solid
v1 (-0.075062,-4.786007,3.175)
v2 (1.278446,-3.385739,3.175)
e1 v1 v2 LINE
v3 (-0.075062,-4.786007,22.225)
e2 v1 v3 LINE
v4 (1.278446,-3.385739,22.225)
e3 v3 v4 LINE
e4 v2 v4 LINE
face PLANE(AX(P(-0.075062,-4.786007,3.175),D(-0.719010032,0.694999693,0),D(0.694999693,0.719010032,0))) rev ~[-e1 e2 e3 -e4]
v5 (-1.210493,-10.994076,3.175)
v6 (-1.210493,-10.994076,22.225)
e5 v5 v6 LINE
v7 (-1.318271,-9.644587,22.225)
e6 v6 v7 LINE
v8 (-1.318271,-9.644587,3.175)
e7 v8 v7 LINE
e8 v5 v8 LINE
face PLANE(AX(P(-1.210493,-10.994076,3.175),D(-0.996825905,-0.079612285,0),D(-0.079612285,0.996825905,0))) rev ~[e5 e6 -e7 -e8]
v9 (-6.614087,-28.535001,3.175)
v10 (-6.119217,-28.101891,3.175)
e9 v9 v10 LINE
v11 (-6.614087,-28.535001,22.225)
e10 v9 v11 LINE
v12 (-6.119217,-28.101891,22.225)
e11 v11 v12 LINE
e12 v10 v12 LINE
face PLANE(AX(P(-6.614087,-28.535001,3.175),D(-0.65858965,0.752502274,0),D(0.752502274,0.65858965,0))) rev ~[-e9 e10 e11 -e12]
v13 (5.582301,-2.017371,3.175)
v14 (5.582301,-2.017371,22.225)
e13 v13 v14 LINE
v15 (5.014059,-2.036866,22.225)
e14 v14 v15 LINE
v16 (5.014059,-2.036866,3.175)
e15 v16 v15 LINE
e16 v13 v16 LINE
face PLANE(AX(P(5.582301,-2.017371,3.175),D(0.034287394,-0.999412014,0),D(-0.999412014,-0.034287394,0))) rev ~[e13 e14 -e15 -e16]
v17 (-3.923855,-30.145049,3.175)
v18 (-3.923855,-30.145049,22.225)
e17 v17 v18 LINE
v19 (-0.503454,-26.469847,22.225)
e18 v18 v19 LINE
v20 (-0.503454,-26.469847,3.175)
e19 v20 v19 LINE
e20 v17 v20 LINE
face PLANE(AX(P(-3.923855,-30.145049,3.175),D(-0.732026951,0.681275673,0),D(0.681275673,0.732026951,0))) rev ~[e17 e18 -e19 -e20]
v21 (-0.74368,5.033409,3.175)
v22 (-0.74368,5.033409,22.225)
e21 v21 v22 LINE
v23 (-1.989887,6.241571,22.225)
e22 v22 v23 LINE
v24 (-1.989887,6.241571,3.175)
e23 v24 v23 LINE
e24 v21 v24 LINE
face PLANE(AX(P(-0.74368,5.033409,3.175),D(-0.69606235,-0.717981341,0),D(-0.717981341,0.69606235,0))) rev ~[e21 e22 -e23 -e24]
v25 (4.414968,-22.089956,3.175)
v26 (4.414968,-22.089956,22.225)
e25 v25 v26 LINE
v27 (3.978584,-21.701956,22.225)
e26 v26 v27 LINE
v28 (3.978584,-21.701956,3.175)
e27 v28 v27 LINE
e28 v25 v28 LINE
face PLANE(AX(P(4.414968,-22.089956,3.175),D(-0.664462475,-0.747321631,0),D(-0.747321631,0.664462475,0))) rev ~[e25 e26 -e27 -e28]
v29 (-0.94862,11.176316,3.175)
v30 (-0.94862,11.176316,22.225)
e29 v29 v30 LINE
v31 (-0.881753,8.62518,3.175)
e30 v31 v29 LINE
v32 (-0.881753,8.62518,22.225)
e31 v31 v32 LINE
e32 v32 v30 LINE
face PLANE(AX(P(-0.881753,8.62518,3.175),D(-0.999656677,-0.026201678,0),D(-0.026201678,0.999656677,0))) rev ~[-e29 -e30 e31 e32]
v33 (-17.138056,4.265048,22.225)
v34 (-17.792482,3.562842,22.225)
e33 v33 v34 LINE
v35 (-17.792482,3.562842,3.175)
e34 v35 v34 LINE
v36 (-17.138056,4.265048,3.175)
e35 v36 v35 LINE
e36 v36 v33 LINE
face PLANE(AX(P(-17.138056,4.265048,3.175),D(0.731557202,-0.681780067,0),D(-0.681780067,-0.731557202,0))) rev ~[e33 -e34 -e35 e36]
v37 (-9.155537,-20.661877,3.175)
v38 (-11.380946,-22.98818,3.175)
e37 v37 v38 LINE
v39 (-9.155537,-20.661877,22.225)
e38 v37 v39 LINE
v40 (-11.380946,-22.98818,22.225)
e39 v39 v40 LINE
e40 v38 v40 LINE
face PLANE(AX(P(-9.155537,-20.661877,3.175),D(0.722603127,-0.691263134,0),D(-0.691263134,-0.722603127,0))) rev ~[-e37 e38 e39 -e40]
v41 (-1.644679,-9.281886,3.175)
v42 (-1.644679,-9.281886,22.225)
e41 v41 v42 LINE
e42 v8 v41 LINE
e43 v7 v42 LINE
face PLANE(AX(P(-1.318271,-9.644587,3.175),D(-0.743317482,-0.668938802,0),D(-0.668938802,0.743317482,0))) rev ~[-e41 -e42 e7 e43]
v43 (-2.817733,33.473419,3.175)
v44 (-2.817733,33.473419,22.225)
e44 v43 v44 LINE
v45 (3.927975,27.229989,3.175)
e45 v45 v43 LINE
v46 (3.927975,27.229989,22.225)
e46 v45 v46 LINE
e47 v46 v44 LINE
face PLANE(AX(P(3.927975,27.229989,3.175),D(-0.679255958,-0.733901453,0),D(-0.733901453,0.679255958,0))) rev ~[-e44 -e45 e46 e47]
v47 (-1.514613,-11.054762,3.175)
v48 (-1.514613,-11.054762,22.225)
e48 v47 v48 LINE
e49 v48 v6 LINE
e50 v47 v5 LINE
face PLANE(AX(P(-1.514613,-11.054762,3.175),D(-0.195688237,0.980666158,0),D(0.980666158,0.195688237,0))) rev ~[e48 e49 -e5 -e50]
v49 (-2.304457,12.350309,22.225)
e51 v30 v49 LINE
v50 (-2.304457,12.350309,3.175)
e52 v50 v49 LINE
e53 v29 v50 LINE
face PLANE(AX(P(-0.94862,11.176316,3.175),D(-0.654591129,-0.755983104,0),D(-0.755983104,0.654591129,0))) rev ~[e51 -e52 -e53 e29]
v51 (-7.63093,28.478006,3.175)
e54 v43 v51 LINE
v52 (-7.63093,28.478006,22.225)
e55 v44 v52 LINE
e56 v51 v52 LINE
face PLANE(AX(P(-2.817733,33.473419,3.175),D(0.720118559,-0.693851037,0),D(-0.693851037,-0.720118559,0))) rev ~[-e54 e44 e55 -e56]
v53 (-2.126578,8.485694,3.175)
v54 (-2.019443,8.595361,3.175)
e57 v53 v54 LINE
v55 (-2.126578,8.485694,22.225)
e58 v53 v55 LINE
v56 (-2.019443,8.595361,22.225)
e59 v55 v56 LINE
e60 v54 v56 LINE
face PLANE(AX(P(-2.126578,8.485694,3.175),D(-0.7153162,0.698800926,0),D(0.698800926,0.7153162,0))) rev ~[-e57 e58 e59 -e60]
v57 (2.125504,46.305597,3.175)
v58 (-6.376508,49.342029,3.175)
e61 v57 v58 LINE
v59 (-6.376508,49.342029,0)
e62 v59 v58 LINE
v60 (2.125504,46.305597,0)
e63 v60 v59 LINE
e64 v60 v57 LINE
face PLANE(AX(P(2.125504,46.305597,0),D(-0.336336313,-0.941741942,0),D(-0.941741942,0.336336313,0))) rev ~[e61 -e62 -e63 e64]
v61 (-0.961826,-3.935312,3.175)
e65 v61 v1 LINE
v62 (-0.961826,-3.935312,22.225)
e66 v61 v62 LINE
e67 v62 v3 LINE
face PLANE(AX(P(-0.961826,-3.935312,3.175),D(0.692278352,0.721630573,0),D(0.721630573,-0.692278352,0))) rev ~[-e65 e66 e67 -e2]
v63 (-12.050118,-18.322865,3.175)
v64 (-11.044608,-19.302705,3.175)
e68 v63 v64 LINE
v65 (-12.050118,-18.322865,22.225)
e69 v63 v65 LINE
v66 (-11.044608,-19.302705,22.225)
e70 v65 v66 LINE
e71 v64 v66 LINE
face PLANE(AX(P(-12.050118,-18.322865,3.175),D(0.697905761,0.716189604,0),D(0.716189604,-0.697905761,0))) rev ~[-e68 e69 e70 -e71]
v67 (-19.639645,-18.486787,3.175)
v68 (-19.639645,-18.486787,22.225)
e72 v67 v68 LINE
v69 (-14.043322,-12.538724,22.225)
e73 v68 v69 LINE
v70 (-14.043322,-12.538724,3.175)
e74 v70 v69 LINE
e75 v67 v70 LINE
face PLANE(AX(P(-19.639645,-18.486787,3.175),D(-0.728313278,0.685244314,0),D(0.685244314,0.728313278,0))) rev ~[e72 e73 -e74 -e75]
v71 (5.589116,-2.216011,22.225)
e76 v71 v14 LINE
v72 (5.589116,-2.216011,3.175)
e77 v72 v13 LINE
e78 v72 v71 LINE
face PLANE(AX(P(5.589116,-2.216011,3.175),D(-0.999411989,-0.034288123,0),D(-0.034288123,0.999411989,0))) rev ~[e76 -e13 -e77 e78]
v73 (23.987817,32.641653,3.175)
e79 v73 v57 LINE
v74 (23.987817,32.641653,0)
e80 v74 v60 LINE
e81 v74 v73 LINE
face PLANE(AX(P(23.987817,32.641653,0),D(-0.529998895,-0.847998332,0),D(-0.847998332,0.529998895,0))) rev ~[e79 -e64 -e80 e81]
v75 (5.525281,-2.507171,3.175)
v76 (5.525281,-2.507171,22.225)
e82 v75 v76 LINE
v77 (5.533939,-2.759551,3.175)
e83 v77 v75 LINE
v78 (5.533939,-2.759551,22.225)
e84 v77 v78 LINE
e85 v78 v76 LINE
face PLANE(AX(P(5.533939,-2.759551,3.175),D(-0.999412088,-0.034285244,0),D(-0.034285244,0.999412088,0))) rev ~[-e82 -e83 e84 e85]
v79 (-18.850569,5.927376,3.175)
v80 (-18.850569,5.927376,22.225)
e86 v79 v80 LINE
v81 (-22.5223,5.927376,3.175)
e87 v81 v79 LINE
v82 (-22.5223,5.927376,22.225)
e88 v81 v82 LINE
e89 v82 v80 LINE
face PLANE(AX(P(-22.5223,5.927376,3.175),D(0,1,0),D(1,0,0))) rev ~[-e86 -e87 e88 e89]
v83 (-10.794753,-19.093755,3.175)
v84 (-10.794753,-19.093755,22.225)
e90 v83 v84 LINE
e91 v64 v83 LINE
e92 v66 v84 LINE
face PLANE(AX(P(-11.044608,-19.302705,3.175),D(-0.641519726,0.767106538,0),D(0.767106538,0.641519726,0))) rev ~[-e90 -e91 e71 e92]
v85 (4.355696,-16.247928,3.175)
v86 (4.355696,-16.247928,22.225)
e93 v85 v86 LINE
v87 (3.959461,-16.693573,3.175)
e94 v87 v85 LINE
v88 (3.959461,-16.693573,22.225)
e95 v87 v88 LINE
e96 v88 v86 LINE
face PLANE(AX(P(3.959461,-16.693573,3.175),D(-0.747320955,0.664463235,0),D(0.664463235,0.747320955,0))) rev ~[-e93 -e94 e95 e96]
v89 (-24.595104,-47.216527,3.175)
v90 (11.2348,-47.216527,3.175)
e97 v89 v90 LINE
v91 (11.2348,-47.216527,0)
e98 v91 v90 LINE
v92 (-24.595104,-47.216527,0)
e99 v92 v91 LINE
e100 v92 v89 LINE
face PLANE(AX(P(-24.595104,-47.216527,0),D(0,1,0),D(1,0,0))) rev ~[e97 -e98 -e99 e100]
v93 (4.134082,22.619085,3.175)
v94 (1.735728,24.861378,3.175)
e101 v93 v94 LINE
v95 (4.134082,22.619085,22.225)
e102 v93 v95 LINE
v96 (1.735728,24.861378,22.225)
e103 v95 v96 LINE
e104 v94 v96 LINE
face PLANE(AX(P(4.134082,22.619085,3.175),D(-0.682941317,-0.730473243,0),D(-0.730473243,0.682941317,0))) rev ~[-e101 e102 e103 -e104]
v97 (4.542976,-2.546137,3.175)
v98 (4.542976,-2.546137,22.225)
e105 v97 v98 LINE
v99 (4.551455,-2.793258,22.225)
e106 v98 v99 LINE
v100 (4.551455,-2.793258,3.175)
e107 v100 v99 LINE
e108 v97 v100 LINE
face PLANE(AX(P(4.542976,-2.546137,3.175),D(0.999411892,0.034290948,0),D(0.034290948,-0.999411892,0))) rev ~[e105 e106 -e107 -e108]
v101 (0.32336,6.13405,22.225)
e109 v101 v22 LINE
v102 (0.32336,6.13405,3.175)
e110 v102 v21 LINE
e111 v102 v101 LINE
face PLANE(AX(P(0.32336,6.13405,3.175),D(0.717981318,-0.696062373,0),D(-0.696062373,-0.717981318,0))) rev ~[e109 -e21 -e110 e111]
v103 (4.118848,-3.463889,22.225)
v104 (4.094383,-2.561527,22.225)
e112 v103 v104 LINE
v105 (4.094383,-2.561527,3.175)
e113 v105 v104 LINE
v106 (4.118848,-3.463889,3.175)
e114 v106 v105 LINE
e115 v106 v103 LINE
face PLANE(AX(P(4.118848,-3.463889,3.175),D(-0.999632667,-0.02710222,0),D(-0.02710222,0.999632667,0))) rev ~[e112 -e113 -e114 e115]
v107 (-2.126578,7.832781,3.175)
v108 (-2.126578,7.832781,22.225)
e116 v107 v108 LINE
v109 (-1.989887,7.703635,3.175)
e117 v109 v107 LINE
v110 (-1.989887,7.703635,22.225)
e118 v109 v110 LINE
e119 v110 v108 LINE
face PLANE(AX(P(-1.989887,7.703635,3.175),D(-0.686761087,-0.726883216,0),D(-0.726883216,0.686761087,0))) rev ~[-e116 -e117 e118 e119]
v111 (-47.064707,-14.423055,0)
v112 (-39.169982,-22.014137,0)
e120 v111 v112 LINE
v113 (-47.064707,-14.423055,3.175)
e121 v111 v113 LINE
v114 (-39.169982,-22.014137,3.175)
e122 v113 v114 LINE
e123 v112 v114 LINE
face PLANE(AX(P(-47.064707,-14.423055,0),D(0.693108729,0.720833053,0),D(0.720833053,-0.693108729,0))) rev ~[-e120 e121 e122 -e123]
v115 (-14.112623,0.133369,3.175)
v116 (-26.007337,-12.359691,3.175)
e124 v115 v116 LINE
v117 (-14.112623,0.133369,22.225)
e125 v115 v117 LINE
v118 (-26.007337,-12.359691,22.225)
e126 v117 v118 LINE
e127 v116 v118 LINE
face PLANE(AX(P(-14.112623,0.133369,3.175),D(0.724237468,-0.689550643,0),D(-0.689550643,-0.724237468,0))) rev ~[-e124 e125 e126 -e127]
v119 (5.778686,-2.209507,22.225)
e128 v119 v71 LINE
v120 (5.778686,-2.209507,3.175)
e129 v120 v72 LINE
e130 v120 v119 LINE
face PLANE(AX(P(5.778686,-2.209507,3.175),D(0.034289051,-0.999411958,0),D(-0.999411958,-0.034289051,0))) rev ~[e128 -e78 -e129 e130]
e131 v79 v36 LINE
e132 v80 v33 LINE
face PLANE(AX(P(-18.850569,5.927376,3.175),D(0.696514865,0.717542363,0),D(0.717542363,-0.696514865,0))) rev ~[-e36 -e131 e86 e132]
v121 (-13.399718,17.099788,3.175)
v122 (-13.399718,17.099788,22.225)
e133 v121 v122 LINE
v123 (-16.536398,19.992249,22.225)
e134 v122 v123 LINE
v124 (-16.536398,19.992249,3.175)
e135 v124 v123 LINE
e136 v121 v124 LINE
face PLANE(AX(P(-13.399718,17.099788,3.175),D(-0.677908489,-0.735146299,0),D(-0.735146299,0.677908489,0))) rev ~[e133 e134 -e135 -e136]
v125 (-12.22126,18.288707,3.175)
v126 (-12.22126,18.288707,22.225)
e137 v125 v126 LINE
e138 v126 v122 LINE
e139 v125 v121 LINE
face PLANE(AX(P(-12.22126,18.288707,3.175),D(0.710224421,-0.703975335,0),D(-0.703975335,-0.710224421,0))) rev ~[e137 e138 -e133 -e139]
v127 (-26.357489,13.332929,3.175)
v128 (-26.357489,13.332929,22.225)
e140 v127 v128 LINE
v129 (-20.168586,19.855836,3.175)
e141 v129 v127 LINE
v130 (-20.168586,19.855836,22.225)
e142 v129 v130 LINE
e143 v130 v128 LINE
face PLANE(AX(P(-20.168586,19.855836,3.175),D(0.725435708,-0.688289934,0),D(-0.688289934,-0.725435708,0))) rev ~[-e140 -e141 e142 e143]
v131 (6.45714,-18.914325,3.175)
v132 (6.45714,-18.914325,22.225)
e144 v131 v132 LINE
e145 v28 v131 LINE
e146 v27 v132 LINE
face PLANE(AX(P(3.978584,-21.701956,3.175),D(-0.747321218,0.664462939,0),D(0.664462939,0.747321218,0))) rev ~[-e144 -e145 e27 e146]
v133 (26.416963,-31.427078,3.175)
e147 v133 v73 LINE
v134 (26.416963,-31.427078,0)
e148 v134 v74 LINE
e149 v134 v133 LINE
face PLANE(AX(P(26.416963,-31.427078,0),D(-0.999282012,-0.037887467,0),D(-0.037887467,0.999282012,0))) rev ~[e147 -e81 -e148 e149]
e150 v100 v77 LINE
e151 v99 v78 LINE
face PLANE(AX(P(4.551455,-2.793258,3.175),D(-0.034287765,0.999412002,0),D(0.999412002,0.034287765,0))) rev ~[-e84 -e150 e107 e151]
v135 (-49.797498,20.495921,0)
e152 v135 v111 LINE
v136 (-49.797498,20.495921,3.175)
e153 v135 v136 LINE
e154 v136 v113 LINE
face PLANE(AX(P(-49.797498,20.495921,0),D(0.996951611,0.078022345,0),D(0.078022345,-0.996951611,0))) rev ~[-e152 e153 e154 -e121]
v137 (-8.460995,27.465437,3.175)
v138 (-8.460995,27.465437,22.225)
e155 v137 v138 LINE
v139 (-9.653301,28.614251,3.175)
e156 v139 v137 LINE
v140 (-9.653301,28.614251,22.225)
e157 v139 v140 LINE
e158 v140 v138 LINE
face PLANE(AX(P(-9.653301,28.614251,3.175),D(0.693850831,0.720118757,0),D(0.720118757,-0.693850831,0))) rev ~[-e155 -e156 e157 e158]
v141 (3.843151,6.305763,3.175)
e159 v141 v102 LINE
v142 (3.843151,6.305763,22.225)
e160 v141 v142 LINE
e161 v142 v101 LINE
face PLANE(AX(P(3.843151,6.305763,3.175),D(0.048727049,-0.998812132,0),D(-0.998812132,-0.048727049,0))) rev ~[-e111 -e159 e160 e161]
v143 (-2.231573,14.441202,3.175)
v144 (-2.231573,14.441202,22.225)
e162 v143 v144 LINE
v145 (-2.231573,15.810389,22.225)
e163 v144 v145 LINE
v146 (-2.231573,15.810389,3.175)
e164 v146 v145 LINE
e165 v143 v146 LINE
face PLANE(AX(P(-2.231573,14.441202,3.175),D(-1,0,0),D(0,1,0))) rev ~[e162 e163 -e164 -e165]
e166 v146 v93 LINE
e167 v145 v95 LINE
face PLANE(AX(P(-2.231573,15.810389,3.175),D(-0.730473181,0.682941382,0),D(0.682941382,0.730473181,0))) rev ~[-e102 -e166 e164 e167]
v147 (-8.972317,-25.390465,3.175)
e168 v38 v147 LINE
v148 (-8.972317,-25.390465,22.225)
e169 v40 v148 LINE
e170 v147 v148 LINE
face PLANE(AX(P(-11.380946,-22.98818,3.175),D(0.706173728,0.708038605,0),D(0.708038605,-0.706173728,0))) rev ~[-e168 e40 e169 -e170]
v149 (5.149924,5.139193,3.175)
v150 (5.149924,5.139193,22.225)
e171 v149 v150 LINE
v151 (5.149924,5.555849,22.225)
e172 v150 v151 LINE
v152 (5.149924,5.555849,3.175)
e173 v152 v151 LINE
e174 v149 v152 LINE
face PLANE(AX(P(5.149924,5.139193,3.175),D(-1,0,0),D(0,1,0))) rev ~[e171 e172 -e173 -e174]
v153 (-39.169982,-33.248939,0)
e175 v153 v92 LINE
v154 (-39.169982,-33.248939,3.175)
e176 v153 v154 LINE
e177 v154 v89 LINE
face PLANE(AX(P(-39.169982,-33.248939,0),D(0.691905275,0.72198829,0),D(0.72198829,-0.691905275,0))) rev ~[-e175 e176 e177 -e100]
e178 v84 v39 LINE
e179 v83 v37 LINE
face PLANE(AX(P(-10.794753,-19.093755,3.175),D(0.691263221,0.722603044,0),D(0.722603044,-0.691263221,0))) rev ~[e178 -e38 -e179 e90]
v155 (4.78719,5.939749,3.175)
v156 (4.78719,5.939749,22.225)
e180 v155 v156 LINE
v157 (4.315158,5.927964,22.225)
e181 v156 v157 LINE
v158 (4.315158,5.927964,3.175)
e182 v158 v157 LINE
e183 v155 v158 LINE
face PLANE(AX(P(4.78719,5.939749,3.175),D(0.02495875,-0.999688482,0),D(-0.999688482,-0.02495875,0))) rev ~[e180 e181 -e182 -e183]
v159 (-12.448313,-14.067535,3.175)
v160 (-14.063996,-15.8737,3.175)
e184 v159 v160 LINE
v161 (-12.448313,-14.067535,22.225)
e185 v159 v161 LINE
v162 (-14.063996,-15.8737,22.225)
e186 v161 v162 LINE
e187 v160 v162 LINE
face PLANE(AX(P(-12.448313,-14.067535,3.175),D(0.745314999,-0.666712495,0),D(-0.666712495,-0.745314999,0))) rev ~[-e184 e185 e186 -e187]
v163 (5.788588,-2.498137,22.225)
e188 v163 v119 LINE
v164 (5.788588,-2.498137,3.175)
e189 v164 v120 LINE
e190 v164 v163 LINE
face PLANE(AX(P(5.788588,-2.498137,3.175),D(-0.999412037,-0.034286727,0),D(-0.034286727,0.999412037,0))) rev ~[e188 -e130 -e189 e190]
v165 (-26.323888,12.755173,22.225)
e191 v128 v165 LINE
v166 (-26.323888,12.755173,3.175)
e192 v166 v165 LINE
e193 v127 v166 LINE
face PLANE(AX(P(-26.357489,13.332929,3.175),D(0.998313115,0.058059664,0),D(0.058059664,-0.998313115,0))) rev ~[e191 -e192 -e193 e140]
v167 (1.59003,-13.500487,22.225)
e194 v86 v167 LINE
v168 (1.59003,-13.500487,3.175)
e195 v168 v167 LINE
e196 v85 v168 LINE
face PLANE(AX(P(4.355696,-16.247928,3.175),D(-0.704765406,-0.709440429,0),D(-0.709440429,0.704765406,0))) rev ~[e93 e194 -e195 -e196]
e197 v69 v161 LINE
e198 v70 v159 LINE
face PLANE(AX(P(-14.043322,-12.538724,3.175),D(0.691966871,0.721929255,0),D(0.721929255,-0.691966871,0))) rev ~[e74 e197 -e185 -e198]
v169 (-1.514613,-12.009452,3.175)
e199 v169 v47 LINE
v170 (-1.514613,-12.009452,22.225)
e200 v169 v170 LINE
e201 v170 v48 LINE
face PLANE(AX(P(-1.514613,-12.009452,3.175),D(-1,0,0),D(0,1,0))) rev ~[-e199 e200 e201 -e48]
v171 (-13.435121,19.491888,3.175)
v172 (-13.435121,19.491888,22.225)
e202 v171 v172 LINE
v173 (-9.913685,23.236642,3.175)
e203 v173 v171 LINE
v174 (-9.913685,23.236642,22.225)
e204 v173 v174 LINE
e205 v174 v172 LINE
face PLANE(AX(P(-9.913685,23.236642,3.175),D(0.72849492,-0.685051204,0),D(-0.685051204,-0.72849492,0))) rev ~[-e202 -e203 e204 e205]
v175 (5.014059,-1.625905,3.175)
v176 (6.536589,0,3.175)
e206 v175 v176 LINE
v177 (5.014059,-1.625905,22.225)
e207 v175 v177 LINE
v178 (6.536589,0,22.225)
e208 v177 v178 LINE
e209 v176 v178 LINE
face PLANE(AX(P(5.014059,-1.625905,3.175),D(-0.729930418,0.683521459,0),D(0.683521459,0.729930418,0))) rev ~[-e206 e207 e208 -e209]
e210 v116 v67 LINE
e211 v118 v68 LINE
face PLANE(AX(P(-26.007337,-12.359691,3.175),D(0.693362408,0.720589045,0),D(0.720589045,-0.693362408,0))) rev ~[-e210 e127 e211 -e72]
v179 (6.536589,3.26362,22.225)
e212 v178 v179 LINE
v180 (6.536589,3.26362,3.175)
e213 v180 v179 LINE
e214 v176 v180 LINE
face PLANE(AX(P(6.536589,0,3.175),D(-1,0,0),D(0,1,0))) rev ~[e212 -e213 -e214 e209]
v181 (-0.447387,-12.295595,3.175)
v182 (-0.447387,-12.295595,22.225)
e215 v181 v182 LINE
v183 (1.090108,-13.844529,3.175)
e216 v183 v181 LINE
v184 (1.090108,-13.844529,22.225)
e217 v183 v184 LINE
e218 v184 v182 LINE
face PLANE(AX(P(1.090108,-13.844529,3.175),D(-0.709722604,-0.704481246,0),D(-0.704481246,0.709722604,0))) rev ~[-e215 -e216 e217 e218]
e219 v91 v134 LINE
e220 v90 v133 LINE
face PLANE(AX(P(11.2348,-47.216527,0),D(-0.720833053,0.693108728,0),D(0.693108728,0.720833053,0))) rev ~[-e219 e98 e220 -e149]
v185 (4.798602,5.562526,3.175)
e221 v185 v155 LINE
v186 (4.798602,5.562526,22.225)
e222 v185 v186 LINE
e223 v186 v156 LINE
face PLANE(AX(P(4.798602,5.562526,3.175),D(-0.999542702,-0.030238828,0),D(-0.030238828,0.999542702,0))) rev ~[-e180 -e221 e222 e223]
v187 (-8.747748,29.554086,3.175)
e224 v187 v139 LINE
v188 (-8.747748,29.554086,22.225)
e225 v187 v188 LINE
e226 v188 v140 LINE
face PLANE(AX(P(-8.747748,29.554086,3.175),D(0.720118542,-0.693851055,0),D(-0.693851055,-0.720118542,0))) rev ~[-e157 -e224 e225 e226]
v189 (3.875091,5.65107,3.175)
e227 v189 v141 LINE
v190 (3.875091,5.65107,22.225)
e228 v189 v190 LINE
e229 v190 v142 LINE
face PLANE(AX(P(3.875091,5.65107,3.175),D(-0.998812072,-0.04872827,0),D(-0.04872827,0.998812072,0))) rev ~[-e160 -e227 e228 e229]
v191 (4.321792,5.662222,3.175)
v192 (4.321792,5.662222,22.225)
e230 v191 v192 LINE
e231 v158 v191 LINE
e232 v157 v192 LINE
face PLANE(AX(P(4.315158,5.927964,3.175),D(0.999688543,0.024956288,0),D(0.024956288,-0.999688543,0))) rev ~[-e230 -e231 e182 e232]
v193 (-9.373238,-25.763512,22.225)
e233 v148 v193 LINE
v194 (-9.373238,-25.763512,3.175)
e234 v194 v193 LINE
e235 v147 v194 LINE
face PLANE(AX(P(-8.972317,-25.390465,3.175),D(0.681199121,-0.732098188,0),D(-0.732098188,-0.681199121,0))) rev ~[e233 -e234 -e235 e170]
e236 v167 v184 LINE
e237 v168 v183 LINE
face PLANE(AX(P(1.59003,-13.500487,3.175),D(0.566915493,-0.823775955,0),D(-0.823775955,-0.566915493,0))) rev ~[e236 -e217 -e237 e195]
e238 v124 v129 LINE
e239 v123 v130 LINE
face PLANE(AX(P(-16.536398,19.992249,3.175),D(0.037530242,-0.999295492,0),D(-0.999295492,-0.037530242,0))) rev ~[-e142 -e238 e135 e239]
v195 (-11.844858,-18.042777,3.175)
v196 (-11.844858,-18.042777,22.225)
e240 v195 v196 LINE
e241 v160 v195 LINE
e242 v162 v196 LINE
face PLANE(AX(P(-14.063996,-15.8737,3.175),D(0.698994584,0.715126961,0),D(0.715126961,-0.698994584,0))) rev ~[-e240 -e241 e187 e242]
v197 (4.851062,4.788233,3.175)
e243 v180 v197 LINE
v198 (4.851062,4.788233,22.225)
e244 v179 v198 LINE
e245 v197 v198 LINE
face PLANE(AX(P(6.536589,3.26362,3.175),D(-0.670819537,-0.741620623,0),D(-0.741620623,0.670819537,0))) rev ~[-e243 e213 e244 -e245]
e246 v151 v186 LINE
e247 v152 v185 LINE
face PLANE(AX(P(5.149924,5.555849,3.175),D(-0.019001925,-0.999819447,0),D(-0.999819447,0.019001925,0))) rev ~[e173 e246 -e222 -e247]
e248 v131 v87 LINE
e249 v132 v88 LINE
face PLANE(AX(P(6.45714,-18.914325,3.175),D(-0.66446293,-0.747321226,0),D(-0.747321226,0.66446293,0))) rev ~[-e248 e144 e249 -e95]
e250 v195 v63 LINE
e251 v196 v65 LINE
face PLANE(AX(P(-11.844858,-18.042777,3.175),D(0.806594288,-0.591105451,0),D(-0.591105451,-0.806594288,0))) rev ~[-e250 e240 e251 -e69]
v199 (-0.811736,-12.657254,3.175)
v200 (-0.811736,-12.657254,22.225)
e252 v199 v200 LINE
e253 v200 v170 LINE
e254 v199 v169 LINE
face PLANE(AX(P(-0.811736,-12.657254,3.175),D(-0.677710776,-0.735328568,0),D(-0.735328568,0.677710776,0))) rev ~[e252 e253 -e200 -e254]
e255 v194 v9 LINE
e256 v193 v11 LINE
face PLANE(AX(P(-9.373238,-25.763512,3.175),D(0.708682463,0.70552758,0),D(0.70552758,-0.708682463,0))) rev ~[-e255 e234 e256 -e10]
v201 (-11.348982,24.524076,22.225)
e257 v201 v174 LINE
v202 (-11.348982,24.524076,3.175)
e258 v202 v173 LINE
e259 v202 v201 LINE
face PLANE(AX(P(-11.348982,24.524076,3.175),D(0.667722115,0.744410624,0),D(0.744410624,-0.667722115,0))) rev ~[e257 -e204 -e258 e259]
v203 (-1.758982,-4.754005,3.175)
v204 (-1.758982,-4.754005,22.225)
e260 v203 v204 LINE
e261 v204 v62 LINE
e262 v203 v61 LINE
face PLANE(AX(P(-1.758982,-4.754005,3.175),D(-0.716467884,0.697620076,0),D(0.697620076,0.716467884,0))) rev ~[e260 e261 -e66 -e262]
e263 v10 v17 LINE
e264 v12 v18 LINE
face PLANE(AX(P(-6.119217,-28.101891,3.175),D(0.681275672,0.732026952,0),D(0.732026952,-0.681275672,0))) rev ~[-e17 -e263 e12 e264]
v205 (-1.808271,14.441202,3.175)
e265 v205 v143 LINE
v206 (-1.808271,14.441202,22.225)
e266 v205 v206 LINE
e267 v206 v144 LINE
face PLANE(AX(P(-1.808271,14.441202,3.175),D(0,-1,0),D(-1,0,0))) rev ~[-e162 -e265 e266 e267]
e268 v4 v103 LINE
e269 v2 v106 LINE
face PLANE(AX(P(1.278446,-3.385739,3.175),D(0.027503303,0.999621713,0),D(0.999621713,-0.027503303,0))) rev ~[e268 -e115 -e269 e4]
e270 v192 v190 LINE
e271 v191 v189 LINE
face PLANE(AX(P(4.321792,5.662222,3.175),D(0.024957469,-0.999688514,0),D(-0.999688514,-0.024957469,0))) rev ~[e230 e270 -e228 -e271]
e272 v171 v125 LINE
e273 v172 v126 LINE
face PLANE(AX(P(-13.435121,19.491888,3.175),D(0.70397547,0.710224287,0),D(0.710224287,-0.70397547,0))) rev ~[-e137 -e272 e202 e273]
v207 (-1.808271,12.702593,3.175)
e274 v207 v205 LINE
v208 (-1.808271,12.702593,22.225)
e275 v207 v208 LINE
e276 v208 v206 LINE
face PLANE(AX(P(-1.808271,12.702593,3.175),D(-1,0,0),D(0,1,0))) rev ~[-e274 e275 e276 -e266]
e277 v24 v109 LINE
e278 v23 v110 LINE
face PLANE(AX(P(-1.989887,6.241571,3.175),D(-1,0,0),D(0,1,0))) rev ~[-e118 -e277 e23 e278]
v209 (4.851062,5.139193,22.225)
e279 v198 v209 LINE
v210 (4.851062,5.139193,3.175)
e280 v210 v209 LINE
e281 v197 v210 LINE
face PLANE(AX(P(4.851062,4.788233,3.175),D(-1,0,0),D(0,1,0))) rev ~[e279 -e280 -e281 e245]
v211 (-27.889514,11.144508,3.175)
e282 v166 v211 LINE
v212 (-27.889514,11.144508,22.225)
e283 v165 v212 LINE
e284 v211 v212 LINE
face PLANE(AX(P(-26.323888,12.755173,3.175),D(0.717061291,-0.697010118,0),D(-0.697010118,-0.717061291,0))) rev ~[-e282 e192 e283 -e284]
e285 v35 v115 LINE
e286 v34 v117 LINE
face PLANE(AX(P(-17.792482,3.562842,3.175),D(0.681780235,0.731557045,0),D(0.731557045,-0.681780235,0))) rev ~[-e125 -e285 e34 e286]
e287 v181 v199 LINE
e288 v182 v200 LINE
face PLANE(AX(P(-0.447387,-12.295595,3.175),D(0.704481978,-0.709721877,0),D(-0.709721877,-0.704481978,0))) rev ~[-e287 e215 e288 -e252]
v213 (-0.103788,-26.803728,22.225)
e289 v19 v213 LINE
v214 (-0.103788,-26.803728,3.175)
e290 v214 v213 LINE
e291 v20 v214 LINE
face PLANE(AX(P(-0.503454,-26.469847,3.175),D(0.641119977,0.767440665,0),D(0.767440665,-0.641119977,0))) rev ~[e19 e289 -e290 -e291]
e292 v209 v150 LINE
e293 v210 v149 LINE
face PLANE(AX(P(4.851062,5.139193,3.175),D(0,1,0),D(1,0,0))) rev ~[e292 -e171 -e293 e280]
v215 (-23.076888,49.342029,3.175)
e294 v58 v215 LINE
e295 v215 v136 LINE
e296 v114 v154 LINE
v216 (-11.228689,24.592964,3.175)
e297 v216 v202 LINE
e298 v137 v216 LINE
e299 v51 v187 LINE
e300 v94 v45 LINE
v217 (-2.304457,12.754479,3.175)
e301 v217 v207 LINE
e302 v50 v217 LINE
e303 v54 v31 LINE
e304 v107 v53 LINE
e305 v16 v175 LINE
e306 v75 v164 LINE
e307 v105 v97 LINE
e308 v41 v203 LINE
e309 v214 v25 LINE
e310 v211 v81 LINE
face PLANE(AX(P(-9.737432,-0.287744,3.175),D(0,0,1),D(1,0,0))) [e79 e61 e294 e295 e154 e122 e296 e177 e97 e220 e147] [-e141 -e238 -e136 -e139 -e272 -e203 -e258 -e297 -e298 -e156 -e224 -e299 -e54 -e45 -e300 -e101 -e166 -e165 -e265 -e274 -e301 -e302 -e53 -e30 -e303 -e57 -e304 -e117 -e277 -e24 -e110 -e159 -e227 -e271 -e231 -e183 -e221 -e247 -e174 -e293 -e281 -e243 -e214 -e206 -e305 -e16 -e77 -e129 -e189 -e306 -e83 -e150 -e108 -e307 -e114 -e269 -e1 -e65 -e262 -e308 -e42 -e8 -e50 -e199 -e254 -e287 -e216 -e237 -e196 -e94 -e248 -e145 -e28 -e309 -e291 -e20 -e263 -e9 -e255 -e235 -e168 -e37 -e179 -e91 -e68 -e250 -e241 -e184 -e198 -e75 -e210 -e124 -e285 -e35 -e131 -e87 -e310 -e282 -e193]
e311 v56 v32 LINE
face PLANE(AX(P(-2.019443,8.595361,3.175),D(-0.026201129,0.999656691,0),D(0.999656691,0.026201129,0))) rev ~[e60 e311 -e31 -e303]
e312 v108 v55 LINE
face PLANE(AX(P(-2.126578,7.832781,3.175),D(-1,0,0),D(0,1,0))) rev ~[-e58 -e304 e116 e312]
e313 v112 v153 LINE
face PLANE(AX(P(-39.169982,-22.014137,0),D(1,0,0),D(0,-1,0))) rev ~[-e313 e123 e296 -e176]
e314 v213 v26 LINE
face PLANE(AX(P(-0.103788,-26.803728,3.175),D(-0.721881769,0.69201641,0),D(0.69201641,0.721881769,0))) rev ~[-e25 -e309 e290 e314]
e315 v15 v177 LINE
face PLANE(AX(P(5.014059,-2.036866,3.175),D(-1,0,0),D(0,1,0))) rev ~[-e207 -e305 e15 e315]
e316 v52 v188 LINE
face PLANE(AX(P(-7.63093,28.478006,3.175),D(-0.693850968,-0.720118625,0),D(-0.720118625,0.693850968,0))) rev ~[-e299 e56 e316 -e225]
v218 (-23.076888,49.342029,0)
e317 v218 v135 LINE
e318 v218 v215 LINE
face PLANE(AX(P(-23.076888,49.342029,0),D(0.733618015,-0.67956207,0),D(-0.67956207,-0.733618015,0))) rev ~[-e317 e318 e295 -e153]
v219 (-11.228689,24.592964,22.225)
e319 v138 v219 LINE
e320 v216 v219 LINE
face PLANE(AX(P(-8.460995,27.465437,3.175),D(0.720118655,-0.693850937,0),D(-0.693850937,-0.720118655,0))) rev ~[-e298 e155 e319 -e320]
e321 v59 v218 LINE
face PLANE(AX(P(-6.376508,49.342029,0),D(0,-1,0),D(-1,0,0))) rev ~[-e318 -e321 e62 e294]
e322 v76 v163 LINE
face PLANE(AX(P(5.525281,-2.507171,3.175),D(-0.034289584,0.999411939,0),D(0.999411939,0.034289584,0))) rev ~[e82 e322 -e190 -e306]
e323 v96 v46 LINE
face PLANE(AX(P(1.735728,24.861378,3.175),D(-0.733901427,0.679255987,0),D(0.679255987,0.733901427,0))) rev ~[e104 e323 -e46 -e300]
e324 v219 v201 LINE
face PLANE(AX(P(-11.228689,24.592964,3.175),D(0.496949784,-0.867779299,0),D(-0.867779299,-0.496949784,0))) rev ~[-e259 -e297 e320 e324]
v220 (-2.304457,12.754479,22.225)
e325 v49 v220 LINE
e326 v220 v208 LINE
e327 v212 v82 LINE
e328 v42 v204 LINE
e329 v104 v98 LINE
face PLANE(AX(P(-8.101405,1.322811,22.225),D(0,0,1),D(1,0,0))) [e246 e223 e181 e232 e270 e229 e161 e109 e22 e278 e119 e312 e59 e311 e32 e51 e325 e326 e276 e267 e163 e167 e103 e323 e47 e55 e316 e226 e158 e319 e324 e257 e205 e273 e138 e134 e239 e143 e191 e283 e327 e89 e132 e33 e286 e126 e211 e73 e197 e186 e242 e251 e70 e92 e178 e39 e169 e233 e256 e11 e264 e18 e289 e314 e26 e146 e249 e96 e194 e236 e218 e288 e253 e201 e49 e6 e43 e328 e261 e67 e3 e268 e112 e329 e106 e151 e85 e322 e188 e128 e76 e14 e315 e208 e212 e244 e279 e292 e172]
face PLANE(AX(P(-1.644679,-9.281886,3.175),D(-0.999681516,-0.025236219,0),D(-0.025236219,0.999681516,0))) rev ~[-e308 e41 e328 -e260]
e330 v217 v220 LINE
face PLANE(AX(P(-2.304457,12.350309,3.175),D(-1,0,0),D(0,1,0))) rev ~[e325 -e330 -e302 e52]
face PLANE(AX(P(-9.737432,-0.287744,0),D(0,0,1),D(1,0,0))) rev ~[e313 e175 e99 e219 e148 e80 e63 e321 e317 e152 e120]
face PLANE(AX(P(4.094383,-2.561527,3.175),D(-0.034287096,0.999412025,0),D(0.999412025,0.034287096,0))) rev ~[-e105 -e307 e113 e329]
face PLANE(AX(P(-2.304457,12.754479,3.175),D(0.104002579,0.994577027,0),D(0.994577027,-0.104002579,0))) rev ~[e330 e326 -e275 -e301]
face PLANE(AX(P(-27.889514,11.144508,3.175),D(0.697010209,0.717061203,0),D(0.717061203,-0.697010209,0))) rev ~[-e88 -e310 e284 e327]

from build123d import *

# Parameters (mm, degrees)
F1_DEPTH = 3.175
F3_DEPTH = 19.05


with BuildPart() as f1:
    # F0 (on Top) → F1 (new body)
    with BuildSketch(Plane.XY):
        Polygon((-6.376508, 49.342029), (-23.076888, 49.342029), (-49.797498, 20.495921), (-47.064707, -14.423055), (-39.169982, -22.014137), (-39.169982, -33.248939), (-24.595104, -47.216527), (11.2348, -47.216527), (26.416963, -31.427078), (23.987817, 32.641653), (2.125504, 46.305597), align=None)
    extrude(amount=F1_DEPTH)

    # F2 (on face) → F3 (join)
    with BuildSketch(Plane.XY.offset(3.175)):
        Polygon((-8.460995, 27.465437), (-11.228689, 24.592964), (-11.348982, 24.524076), (-9.913685, 23.236642), (-13.435121, 19.491888), (-12.22126, 18.288707), (-13.399718, 17.099788), (-16.536398, 19.992249), (-20.168586, 19.855836), (-26.357489, 13.332929), (-26.323888, 12.755173), (-27.889514, 11.144508), (-22.5223, 5.927376), (-18.850569, 5.927376), (-17.138056, 4.265048), (-17.792482, 3.562842), (-14.112623, 0.133369), (-26.007337, -12.359691), (-19.639645, -18.486787), (-14.043322, -12.538724), (-12.448313, -14.067535), (-14.063996, -15.8737), (-11.844858, -18.042777), (-12.050118, -18.322865), (-11.044608, -19.302705), (-10.794753, -19.093755), (-9.155537, -20.661877), (-11.380946, -22.98818), (-8.972317, -25.390465), (-9.373238, -25.763512), (-6.614087, -28.535001), (-6.119217, -28.101891), (-3.923855, -30.145049), (-0.503454, -26.469847), (-0.103788, -26.803728), (4.414968, -22.089956), (3.978584, -21.701956), (6.45714, -18.914325), (3.959461, -16.693573), (4.355696, -16.247928), (1.59003, -13.500487), (1.090108, -13.844529), (-0.447387, -12.295595), (-0.811736, -12.657254), (-1.514613, -12.009452), (-1.514613, -11.054762), (-1.210493, -10.994076), (-1.318271, -9.644587), (-1.644679, -9.281886), (-1.758982, -4.754005), (-0.961826, -3.935312), (-0.075062, -4.786007), (1.278446, -3.385739), (4.118848, -3.463889), (4.094383, -2.561527), (4.542976, -2.546137), (4.551455, -2.793258), (5.533939, -2.759551), (5.525281, -2.507171), (5.788588, -2.498137), (5.778686, -2.209507), (5.589116, -2.216011), (5.582301, -2.017371), (5.014059, -2.036866), (5.014059, -1.625905), (6.536589, 0), (6.536589, 3.26362), (4.851062, 4.788233), (4.851062, 5.139193), (5.149924, 5.139193), (5.149924, 5.555849), (4.798602, 5.562526), (4.78719, 5.939749), (4.315158, 5.927964), (4.321792, 5.662222), (3.875091, 5.65107), (3.843151, 6.305763), (0.32336, 6.13405), (-0.74368, 5.033409), (-1.989887, 6.241571), (-1.989887, 7.703635), (-2.126578, 7.832781), (-2.126578, 8.485694), (-2.019443, 8.595361), (-0.881753, 8.62518), (-0.94862, 11.176316), (-2.304457, 12.350309), (-2.304457, 12.754479), (-1.808271, 12.702593), (-1.808271, 14.441202), (-2.231573, 14.441202), (-2.231573, 15.810389), (4.134082, 22.619085), (1.735728, 24.861378), (3.927975, 27.229989), (-2.817733, 33.473419), (-7.63093, 28.478006), (-8.747748, 29.554086), (-9.653301, 28.614251), align=None)
    extrude(amount=F3_DEPTH)


solid = f1.part
